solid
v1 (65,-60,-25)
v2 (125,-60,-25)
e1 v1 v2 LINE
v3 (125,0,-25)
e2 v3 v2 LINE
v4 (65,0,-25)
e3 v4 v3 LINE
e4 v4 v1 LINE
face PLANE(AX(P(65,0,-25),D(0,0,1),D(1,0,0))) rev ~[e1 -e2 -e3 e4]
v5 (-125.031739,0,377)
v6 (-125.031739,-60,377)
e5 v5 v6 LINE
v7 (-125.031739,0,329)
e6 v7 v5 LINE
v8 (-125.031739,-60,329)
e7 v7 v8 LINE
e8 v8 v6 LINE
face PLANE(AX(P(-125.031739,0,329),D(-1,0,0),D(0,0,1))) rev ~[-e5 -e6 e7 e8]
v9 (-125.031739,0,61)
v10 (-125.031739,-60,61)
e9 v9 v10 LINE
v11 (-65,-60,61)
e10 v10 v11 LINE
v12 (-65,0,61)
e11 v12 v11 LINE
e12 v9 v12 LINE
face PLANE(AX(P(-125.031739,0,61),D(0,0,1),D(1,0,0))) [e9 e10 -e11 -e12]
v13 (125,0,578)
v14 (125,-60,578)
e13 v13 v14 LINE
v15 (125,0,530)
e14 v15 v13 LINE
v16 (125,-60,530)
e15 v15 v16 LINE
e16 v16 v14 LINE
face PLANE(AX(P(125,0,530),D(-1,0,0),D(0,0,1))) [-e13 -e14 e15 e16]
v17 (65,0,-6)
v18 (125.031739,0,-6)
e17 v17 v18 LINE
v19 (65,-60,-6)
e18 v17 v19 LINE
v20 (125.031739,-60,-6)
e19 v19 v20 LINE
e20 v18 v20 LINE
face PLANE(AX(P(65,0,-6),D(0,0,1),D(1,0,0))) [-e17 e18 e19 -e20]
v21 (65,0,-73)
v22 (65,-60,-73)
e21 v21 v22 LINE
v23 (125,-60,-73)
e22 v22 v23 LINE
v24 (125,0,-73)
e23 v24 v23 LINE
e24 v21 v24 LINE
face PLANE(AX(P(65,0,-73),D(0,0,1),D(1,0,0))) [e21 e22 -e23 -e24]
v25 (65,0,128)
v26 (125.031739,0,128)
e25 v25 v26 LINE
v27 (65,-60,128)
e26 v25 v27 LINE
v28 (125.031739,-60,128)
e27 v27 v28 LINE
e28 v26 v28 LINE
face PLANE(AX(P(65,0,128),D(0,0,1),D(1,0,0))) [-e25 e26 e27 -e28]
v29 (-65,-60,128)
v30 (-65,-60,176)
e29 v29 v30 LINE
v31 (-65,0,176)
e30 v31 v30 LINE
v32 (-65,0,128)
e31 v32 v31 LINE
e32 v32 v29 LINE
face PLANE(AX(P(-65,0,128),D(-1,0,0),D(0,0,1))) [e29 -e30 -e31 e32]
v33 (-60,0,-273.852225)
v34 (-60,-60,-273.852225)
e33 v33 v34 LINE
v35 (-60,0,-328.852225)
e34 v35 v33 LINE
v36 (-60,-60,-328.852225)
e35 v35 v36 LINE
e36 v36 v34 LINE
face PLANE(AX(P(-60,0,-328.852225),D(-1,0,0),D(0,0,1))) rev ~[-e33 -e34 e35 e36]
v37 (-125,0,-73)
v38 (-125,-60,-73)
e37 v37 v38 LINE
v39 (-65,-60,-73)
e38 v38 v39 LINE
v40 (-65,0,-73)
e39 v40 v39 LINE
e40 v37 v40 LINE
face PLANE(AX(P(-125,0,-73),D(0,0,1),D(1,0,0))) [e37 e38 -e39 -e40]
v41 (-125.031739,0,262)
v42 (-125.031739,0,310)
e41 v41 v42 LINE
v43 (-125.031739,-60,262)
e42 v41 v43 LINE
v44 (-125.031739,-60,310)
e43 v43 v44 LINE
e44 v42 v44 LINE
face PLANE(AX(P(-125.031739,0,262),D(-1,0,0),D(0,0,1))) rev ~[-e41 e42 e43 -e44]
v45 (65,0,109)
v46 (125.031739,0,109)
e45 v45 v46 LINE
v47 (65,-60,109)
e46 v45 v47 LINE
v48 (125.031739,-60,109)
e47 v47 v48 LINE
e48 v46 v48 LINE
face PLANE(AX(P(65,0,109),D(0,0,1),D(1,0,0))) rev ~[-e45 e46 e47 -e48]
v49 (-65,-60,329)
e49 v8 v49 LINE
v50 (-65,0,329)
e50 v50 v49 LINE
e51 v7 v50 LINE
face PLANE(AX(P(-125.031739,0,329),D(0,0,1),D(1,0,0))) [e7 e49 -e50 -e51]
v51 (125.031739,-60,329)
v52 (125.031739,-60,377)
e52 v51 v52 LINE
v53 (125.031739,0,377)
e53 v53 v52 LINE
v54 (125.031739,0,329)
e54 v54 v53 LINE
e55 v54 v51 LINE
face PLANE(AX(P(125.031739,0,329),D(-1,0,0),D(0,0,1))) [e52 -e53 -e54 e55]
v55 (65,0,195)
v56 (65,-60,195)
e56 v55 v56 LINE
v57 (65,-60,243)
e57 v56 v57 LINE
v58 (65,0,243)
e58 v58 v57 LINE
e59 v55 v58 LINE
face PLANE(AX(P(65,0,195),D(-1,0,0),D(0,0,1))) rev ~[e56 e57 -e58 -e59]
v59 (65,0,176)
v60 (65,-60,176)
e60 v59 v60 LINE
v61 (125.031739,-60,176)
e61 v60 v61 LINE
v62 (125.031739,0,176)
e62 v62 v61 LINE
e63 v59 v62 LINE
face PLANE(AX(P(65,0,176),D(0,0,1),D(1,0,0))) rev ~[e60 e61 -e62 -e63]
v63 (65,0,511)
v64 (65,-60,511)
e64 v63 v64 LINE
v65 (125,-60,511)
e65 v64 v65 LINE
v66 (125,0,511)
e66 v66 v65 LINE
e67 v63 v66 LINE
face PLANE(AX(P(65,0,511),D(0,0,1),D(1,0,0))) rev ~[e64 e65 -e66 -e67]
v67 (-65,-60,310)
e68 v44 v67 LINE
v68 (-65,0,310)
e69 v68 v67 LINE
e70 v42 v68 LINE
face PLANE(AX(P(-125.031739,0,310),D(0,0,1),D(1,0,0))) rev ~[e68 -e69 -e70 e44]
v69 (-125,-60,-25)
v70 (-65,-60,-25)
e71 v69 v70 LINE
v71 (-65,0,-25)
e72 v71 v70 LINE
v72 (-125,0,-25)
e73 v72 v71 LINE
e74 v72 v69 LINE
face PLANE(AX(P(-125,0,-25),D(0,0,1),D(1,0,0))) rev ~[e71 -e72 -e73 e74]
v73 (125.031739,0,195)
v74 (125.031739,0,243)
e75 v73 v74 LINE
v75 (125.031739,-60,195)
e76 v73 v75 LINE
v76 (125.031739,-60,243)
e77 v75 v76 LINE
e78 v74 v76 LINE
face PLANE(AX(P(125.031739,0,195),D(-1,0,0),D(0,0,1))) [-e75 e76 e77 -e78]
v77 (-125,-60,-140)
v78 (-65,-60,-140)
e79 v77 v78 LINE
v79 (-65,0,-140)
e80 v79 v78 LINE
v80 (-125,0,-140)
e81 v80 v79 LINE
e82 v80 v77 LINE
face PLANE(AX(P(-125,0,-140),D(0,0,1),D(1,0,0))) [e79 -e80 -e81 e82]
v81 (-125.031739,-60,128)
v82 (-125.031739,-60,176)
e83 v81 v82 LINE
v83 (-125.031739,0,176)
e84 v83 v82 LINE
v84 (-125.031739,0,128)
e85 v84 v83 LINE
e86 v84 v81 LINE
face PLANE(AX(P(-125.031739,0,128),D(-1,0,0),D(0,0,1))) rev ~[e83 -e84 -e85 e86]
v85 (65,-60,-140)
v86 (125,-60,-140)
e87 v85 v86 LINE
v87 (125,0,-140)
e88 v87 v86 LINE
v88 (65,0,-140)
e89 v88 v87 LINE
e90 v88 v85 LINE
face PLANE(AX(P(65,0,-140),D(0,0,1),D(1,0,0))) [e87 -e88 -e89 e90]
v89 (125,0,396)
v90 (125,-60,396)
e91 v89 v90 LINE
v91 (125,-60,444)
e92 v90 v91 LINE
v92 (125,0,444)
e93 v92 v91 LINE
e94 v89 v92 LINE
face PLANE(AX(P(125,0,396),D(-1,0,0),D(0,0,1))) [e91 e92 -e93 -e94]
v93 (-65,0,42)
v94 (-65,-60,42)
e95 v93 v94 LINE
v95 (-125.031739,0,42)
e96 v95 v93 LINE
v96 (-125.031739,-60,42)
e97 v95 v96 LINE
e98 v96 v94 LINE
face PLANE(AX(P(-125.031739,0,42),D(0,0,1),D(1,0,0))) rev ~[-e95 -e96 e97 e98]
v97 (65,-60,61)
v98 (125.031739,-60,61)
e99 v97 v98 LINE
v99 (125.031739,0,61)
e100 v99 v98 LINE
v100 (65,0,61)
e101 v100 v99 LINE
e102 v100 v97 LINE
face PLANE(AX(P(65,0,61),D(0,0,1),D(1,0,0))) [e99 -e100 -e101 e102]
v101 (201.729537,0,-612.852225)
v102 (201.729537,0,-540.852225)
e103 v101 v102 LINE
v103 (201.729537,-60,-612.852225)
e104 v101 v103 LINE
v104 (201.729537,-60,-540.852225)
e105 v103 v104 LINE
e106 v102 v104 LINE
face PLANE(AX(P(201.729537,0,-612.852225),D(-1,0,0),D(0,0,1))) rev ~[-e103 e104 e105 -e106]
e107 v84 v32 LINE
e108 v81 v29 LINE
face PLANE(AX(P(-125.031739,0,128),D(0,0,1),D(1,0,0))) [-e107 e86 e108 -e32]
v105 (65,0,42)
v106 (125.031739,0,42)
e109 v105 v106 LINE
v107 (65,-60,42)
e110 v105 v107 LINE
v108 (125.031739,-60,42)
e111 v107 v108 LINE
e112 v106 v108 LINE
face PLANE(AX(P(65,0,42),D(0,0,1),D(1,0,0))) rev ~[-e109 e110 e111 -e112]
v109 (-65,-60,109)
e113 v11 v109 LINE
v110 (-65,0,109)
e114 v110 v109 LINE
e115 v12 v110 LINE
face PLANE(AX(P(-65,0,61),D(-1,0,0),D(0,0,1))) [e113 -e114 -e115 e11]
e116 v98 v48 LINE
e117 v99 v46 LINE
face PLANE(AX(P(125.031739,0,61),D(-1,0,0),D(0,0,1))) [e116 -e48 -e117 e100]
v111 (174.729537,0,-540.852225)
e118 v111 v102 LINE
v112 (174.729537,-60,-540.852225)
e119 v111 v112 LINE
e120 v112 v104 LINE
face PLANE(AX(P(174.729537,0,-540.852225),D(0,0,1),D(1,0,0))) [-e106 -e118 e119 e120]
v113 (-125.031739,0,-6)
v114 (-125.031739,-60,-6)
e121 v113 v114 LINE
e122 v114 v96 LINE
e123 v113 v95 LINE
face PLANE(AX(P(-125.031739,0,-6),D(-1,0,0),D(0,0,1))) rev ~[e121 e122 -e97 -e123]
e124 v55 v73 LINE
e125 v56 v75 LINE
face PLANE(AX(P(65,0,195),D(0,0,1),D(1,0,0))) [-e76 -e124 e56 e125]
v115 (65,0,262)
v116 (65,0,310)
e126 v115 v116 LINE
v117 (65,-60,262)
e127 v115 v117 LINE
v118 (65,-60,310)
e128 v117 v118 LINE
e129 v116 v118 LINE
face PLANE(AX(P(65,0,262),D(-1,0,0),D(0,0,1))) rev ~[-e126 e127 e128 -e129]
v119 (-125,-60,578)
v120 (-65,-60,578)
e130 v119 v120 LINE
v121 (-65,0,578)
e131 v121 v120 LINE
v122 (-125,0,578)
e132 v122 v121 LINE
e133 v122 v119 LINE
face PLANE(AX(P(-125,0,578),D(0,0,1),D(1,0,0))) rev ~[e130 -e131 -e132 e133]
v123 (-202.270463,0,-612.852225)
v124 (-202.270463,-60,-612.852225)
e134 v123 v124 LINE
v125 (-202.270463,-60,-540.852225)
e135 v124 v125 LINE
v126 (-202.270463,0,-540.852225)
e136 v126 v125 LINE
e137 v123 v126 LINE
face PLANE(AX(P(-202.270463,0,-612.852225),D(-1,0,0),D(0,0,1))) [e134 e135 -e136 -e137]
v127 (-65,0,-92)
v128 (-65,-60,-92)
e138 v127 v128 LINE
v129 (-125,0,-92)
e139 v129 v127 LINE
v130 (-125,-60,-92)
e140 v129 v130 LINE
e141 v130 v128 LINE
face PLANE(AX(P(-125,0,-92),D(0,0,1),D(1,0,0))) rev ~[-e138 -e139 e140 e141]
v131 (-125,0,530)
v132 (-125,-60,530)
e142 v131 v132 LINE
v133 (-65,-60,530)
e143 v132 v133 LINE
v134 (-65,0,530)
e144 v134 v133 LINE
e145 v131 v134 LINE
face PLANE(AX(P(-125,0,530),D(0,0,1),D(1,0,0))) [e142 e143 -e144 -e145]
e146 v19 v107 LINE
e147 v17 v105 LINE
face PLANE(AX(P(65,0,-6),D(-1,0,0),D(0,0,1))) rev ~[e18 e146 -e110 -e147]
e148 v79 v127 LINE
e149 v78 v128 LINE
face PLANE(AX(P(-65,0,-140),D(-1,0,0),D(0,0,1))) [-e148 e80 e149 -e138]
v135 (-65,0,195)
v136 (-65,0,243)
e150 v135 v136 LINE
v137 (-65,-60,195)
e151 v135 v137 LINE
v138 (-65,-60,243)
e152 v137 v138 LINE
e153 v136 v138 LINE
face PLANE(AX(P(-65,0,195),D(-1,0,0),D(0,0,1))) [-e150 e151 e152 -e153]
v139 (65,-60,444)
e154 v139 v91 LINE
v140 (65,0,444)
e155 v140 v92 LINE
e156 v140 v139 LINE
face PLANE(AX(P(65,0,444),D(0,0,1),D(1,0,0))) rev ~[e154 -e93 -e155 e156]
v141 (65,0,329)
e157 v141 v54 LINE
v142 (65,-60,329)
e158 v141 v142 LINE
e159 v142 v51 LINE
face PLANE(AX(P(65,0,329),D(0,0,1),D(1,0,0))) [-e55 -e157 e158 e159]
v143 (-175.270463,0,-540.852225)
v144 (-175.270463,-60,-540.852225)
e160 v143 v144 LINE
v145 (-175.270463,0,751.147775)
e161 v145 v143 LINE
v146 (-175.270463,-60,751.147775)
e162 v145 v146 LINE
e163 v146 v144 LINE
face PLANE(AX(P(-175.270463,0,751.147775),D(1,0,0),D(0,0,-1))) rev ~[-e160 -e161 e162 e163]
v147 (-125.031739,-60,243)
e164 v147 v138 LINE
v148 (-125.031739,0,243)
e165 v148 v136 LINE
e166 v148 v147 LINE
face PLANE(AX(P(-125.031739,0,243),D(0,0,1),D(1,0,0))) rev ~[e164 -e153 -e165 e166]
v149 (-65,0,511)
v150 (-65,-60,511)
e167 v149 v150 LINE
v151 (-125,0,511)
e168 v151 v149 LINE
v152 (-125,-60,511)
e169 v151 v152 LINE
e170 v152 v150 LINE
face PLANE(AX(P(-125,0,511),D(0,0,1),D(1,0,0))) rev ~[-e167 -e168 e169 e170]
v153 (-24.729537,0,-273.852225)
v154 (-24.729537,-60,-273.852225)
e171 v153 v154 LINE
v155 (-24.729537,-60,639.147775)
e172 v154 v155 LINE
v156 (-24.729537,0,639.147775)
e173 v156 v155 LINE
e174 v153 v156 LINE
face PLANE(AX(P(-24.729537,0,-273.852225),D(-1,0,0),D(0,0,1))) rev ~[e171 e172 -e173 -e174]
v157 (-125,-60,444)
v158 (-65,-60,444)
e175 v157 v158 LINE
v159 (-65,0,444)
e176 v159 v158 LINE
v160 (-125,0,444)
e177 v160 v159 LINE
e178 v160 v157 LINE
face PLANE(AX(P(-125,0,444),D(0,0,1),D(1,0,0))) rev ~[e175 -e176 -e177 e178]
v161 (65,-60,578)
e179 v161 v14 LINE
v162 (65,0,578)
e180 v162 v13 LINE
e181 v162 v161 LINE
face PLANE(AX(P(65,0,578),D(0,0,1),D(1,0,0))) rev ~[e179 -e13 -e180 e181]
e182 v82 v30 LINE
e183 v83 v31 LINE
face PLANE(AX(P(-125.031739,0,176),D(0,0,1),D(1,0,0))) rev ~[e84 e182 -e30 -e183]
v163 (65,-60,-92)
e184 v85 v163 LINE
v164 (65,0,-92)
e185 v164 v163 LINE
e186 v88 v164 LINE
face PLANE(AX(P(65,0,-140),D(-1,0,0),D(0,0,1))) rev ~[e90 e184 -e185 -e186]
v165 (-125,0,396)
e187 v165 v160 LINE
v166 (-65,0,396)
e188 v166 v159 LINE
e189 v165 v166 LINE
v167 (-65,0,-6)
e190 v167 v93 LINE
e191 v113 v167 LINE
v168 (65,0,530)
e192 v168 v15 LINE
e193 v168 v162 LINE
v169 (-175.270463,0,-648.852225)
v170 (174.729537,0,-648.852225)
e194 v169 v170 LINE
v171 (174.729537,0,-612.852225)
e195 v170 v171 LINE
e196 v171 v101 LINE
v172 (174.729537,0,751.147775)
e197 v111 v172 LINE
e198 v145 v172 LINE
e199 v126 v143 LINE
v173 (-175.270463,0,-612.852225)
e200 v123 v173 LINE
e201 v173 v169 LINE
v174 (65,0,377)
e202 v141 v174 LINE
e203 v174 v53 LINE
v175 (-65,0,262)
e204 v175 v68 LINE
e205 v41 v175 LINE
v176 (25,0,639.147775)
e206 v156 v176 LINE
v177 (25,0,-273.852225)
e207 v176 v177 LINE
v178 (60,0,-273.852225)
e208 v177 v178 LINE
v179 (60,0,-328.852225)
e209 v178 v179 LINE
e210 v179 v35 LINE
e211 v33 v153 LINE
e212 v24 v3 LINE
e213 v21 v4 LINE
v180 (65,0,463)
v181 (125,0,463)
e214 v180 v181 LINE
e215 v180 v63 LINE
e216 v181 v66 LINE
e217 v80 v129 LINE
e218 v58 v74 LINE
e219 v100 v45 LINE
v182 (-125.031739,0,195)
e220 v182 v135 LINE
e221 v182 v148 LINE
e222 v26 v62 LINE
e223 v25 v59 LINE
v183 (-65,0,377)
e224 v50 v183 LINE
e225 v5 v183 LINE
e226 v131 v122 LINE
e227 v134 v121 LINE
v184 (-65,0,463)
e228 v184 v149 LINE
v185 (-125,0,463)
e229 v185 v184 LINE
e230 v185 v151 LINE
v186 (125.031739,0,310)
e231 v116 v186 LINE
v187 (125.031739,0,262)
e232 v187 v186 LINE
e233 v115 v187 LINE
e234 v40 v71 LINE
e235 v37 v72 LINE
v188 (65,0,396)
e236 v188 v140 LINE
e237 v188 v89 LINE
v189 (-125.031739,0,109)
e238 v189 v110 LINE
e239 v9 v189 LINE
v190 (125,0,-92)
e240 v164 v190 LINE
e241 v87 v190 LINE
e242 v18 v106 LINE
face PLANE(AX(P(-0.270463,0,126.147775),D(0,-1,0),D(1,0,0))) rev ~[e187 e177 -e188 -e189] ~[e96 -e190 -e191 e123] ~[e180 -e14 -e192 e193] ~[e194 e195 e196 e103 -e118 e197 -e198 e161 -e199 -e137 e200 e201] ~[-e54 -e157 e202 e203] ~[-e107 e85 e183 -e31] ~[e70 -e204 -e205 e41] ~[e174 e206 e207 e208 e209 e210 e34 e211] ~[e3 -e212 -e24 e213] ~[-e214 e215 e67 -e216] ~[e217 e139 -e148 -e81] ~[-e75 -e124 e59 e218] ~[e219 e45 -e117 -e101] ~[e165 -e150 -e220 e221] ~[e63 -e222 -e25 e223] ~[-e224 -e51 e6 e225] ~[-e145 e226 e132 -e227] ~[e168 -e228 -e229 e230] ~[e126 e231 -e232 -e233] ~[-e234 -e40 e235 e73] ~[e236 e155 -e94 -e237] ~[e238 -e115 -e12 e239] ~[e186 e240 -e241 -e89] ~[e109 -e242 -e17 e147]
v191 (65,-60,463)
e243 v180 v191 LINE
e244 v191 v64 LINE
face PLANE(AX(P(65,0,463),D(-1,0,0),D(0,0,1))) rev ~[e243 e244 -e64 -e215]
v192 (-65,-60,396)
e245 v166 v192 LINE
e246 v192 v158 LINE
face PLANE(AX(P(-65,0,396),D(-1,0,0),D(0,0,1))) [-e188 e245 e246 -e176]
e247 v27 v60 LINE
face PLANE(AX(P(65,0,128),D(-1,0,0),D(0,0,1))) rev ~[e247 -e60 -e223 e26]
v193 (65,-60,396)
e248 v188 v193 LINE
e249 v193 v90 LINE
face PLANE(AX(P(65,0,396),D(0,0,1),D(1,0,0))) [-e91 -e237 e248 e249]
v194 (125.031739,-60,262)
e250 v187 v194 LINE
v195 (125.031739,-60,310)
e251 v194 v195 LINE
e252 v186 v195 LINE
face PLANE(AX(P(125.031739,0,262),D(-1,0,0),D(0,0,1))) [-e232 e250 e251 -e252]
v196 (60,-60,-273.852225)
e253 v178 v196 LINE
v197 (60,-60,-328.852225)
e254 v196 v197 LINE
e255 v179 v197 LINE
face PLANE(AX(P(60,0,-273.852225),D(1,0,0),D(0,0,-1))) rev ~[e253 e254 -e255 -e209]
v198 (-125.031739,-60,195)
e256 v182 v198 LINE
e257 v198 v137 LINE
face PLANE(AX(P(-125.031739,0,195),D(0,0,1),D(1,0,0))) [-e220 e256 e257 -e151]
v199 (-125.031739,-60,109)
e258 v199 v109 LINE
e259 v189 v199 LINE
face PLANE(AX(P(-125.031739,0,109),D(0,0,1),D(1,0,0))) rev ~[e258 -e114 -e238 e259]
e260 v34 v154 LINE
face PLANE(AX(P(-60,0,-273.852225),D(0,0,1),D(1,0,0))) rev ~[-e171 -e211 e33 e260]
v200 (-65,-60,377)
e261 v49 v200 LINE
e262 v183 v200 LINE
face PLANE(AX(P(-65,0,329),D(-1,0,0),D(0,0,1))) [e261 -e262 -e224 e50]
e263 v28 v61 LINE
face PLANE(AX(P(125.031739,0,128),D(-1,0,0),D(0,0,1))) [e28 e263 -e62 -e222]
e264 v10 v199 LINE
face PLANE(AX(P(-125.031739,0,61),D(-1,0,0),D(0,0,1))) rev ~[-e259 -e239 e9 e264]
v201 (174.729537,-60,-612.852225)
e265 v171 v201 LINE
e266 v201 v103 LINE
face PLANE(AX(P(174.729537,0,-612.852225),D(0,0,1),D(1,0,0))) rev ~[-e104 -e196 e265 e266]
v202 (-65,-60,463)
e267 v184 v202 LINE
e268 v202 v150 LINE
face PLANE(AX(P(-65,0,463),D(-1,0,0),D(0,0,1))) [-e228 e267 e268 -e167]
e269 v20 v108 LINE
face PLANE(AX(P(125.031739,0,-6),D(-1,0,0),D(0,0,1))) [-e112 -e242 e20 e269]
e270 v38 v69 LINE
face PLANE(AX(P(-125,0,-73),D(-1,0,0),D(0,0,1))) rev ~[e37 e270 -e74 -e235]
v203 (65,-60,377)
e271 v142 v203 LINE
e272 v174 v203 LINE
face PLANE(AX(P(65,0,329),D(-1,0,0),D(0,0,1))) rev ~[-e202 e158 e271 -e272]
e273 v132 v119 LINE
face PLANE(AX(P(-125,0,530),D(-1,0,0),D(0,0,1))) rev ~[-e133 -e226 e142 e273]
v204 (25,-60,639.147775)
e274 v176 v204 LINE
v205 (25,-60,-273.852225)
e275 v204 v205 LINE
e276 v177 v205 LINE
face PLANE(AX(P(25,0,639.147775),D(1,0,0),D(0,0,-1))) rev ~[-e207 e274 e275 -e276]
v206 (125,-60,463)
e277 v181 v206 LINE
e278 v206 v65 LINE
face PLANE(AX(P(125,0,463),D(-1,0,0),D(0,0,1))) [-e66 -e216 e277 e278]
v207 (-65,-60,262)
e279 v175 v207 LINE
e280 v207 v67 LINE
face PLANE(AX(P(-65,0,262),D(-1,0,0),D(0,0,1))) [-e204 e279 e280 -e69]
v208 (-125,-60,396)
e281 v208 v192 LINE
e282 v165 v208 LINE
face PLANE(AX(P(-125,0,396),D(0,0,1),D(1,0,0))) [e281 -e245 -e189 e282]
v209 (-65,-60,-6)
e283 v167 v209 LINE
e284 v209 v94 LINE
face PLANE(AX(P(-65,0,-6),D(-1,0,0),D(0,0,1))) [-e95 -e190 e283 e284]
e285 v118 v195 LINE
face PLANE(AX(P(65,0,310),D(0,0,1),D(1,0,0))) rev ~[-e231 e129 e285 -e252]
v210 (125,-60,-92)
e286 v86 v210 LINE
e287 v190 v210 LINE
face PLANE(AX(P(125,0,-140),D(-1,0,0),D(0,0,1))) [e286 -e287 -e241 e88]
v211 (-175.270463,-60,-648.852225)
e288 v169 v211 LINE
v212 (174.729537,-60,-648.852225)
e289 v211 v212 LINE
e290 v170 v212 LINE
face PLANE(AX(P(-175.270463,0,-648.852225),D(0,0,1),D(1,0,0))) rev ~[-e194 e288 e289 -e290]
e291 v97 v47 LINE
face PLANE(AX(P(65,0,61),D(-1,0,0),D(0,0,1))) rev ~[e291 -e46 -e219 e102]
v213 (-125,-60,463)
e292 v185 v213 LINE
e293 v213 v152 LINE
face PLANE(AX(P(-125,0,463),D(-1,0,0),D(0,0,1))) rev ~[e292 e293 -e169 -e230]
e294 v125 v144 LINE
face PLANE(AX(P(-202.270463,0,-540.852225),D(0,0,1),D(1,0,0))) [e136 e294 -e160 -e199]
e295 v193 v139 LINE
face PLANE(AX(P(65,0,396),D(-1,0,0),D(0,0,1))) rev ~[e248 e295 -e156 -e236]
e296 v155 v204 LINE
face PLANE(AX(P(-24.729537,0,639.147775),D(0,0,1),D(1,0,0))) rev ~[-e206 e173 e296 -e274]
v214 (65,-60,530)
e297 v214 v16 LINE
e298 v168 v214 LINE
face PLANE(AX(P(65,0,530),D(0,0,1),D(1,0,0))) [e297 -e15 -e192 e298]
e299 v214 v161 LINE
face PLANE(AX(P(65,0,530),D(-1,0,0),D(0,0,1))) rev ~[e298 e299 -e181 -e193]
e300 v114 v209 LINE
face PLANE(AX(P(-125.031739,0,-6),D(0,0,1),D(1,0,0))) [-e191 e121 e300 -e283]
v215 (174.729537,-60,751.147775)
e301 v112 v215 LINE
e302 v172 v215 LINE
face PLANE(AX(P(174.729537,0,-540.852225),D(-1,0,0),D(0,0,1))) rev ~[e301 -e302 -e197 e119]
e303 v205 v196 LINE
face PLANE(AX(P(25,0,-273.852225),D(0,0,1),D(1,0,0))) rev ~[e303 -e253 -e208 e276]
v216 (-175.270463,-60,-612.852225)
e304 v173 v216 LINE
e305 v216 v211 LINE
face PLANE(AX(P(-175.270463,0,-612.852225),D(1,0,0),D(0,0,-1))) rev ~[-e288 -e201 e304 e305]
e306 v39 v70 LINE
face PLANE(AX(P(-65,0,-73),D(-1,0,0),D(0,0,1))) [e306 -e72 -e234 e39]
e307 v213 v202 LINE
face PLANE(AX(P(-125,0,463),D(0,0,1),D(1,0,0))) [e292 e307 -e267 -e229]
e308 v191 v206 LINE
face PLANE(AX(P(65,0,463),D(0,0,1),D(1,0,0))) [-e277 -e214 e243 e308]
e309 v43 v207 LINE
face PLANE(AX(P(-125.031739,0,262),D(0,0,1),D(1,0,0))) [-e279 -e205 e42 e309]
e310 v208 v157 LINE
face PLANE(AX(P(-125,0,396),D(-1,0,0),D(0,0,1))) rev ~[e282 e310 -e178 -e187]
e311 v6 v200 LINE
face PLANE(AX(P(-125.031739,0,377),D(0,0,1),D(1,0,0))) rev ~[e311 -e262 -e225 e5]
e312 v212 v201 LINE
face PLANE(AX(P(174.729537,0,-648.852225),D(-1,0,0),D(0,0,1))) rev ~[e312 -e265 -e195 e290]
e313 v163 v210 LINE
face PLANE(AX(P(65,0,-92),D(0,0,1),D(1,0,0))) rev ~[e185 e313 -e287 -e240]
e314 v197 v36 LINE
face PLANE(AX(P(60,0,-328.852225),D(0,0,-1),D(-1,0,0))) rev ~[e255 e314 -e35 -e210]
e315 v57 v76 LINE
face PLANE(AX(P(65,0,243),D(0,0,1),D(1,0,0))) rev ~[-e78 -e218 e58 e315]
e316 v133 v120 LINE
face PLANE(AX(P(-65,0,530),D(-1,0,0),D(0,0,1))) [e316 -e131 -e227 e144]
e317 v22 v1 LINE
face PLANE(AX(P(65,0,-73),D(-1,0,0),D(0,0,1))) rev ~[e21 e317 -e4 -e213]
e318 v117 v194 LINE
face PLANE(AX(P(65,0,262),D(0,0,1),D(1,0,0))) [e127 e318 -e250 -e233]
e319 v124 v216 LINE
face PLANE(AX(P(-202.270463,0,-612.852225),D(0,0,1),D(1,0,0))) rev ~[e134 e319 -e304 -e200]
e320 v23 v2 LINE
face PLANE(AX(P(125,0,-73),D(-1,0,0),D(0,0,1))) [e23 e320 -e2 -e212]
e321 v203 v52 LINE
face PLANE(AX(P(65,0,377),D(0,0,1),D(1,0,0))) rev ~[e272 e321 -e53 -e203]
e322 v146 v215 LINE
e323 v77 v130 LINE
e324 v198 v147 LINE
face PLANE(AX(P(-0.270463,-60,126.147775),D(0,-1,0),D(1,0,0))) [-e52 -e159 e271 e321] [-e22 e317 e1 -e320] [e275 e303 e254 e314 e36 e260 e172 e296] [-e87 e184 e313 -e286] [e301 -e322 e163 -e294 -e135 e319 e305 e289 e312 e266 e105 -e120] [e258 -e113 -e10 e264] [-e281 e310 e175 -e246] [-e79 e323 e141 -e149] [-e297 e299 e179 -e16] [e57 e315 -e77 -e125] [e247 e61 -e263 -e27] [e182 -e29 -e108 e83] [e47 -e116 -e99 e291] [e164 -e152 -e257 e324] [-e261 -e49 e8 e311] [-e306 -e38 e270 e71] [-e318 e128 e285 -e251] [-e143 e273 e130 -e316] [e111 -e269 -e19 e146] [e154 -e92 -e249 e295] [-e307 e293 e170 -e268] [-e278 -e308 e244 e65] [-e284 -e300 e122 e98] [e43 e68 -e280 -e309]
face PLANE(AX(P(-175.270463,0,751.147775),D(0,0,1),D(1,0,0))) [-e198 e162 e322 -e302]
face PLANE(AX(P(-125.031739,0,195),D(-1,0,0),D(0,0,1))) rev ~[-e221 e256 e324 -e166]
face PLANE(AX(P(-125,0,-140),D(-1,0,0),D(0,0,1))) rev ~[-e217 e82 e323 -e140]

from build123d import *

# Parameters (mm, degrees)
F0_W     = 350
F0_H     = 1250
F0_W_2   = 60
F0_H_2   = 48
F0_W_3   = 60.0317394733
F0_W_4   = 27
F0_H_3   = 72
F1_DEPTH = 60


with BuildPart() as f1:
    # F0 (on Front) → F1 (new body)
    with BuildSketch(Plane.XZ):
        with Locations((-0.2704625484, 126.1477753774)):
            Rectangle(F0_W, F0_H)
        with Locations((-95, -116)):
            Rectangle(F0_W_2, F0_H_2, mode=Mode.SUBTRACT)
        with Locations((-95, -49)):
            Rectangle(F0_W_2, F0_H_2, mode=Mode.SUBTRACT)
        with Locations((-95.0158697367, 18)):
            Rectangle(F0_W_3, F0_H_2, mode=Mode.SUBTRACT)
        with Locations((95, -116)):
            Rectangle(F0_W_2, F0_H_2, mode=Mode.SUBTRACT)
        with Locations((95, -49)):
            Rectangle(F0_W_2, F0_H_2, mode=Mode.SUBTRACT)
        with Locations((95.0158697367, 18)):
            Rectangle(F0_W_3, F0_H_2, mode=Mode.SUBTRACT)
        with Locations((-95.0158697367, 85)):
            Rectangle(F0_W_3, F0_H_2, mode=Mode.SUBTRACT)
        with Locations((-95.0158697367, 152)):
            Rectangle(F0_W_3, F0_H_2, mode=Mode.SUBTRACT)
        with Locations((-95.0158697367, 219)):
            Rectangle(F0_W_3, F0_H_2, mode=Mode.SUBTRACT)
        with Locations((-95.0158697367, 286)):
            Rectangle(F0_W_3, F0_H_2, mode=Mode.SUBTRACT)
        with Locations((-95.0158697367, 353)):
            Rectangle(F0_W_3, F0_H_2, mode=Mode.SUBTRACT)
        with Locations((-95, 420)):
            Rectangle(F0_W_2, F0_H_2, mode=Mode.SUBTRACT)
        with Locations((-95, 487)):
            Rectangle(F0_W_2, F0_H_2, mode=Mode.SUBTRACT)
        with Locations((-95, 554)):
            Rectangle(F0_W_2, F0_H_2, mode=Mode.SUBTRACT)
        Polygon((-0.2704625484, 669.4326684133), (12.5, 669.4326684133), (24.7295374516, 669.4326684133), (24.7295374516, 658.1978485242), (12.5, 658.1978485242), (-0.2704625484, 658.1978485242), (-25.2704625484, 658.1978485242), (-25.2704625484, 669.4326684133), align=None, mode=Mode.SUBTRACT)
        Polygon((-24.7295374516, -193.3112977796), (-24.7295374516, 639.1477753774), (25, 639.1477753774), (25, -210.8522246226), (25, -273.8522246226), (60, -273.8522246226), (60, -328.8522246226), (25, -328.8522246226), (0, -328.8522246226), (-25, -328.8522246226), (-60, -328.8522246226), (-60, -273.8522246226), (-24.7295374516, -273.8522246226), align=None, mode=Mode.SUBTRACT)
        with Locations((95.0158697367, 85)):
            Rectangle(F0_W_3, F0_H_2, mode=Mode.SUBTRACT)
        with Locations((95.0158697367, 152)):
            Rectangle(F0_W_3, F0_H_2, mode=Mode.SUBTRACT)
        with Locations((95.0158697367, 219)):
            Rectangle(F0_W_3, F0_H_2, mode=Mode.SUBTRACT)
        with Locations((95.0158697367, 286)):
            Rectangle(F0_W_3, F0_H_2, mode=Mode.SUBTRACT)
        with Locations((95.0158697367, 353)):
            Rectangle(F0_W_3, F0_H_2, mode=Mode.SUBTRACT)
        with Locations((95, 420)):
            Rectangle(F0_W_2, F0_H_2, mode=Mode.SUBTRACT)
        with Locations((95, 487)):
            Rectangle(F0_W_2, F0_H_2, mode=Mode.SUBTRACT)
        with Locations((95, 554)):
            Rectangle(F0_W_2, F0_H_2, mode=Mode.SUBTRACT)
        Polygon((174.7295374516, -540.8522246226), (174.7295374516, -498.8522246226), (-175.2704625484, -498.8522246226), (-175.2704625484, -540.8522246226), (-175.2704625484, -612.8522246226), (-175.2704625484, -648.8522246226), (174.7295374516, -648.8522246226), (174.7295374516, -612.8522246226), align=None)
        with Locations((188.2295374516, -576.8522246226)):
            Rectangle(F0_W_4, F0_H_3)
        with Locations((-188.7704625484, -576.8522246226)):
            Rectangle(F0_W_4, F0_H_3)
        Polygon((24.7295374516, 669.4326684133), (12.5, 669.4326684133), (-0.2704625484, 669.4326684133), (-25.2704625484, 669.4326684133), (-25.2704625484, 658.1978485242), (-0.2704625484, 658.1978485242), (12.5, 658.1978485242), (24.7295374516, 658.1978485242), align=None)
    extrude(amount=F1_DEPTH)


solid = f1.part
